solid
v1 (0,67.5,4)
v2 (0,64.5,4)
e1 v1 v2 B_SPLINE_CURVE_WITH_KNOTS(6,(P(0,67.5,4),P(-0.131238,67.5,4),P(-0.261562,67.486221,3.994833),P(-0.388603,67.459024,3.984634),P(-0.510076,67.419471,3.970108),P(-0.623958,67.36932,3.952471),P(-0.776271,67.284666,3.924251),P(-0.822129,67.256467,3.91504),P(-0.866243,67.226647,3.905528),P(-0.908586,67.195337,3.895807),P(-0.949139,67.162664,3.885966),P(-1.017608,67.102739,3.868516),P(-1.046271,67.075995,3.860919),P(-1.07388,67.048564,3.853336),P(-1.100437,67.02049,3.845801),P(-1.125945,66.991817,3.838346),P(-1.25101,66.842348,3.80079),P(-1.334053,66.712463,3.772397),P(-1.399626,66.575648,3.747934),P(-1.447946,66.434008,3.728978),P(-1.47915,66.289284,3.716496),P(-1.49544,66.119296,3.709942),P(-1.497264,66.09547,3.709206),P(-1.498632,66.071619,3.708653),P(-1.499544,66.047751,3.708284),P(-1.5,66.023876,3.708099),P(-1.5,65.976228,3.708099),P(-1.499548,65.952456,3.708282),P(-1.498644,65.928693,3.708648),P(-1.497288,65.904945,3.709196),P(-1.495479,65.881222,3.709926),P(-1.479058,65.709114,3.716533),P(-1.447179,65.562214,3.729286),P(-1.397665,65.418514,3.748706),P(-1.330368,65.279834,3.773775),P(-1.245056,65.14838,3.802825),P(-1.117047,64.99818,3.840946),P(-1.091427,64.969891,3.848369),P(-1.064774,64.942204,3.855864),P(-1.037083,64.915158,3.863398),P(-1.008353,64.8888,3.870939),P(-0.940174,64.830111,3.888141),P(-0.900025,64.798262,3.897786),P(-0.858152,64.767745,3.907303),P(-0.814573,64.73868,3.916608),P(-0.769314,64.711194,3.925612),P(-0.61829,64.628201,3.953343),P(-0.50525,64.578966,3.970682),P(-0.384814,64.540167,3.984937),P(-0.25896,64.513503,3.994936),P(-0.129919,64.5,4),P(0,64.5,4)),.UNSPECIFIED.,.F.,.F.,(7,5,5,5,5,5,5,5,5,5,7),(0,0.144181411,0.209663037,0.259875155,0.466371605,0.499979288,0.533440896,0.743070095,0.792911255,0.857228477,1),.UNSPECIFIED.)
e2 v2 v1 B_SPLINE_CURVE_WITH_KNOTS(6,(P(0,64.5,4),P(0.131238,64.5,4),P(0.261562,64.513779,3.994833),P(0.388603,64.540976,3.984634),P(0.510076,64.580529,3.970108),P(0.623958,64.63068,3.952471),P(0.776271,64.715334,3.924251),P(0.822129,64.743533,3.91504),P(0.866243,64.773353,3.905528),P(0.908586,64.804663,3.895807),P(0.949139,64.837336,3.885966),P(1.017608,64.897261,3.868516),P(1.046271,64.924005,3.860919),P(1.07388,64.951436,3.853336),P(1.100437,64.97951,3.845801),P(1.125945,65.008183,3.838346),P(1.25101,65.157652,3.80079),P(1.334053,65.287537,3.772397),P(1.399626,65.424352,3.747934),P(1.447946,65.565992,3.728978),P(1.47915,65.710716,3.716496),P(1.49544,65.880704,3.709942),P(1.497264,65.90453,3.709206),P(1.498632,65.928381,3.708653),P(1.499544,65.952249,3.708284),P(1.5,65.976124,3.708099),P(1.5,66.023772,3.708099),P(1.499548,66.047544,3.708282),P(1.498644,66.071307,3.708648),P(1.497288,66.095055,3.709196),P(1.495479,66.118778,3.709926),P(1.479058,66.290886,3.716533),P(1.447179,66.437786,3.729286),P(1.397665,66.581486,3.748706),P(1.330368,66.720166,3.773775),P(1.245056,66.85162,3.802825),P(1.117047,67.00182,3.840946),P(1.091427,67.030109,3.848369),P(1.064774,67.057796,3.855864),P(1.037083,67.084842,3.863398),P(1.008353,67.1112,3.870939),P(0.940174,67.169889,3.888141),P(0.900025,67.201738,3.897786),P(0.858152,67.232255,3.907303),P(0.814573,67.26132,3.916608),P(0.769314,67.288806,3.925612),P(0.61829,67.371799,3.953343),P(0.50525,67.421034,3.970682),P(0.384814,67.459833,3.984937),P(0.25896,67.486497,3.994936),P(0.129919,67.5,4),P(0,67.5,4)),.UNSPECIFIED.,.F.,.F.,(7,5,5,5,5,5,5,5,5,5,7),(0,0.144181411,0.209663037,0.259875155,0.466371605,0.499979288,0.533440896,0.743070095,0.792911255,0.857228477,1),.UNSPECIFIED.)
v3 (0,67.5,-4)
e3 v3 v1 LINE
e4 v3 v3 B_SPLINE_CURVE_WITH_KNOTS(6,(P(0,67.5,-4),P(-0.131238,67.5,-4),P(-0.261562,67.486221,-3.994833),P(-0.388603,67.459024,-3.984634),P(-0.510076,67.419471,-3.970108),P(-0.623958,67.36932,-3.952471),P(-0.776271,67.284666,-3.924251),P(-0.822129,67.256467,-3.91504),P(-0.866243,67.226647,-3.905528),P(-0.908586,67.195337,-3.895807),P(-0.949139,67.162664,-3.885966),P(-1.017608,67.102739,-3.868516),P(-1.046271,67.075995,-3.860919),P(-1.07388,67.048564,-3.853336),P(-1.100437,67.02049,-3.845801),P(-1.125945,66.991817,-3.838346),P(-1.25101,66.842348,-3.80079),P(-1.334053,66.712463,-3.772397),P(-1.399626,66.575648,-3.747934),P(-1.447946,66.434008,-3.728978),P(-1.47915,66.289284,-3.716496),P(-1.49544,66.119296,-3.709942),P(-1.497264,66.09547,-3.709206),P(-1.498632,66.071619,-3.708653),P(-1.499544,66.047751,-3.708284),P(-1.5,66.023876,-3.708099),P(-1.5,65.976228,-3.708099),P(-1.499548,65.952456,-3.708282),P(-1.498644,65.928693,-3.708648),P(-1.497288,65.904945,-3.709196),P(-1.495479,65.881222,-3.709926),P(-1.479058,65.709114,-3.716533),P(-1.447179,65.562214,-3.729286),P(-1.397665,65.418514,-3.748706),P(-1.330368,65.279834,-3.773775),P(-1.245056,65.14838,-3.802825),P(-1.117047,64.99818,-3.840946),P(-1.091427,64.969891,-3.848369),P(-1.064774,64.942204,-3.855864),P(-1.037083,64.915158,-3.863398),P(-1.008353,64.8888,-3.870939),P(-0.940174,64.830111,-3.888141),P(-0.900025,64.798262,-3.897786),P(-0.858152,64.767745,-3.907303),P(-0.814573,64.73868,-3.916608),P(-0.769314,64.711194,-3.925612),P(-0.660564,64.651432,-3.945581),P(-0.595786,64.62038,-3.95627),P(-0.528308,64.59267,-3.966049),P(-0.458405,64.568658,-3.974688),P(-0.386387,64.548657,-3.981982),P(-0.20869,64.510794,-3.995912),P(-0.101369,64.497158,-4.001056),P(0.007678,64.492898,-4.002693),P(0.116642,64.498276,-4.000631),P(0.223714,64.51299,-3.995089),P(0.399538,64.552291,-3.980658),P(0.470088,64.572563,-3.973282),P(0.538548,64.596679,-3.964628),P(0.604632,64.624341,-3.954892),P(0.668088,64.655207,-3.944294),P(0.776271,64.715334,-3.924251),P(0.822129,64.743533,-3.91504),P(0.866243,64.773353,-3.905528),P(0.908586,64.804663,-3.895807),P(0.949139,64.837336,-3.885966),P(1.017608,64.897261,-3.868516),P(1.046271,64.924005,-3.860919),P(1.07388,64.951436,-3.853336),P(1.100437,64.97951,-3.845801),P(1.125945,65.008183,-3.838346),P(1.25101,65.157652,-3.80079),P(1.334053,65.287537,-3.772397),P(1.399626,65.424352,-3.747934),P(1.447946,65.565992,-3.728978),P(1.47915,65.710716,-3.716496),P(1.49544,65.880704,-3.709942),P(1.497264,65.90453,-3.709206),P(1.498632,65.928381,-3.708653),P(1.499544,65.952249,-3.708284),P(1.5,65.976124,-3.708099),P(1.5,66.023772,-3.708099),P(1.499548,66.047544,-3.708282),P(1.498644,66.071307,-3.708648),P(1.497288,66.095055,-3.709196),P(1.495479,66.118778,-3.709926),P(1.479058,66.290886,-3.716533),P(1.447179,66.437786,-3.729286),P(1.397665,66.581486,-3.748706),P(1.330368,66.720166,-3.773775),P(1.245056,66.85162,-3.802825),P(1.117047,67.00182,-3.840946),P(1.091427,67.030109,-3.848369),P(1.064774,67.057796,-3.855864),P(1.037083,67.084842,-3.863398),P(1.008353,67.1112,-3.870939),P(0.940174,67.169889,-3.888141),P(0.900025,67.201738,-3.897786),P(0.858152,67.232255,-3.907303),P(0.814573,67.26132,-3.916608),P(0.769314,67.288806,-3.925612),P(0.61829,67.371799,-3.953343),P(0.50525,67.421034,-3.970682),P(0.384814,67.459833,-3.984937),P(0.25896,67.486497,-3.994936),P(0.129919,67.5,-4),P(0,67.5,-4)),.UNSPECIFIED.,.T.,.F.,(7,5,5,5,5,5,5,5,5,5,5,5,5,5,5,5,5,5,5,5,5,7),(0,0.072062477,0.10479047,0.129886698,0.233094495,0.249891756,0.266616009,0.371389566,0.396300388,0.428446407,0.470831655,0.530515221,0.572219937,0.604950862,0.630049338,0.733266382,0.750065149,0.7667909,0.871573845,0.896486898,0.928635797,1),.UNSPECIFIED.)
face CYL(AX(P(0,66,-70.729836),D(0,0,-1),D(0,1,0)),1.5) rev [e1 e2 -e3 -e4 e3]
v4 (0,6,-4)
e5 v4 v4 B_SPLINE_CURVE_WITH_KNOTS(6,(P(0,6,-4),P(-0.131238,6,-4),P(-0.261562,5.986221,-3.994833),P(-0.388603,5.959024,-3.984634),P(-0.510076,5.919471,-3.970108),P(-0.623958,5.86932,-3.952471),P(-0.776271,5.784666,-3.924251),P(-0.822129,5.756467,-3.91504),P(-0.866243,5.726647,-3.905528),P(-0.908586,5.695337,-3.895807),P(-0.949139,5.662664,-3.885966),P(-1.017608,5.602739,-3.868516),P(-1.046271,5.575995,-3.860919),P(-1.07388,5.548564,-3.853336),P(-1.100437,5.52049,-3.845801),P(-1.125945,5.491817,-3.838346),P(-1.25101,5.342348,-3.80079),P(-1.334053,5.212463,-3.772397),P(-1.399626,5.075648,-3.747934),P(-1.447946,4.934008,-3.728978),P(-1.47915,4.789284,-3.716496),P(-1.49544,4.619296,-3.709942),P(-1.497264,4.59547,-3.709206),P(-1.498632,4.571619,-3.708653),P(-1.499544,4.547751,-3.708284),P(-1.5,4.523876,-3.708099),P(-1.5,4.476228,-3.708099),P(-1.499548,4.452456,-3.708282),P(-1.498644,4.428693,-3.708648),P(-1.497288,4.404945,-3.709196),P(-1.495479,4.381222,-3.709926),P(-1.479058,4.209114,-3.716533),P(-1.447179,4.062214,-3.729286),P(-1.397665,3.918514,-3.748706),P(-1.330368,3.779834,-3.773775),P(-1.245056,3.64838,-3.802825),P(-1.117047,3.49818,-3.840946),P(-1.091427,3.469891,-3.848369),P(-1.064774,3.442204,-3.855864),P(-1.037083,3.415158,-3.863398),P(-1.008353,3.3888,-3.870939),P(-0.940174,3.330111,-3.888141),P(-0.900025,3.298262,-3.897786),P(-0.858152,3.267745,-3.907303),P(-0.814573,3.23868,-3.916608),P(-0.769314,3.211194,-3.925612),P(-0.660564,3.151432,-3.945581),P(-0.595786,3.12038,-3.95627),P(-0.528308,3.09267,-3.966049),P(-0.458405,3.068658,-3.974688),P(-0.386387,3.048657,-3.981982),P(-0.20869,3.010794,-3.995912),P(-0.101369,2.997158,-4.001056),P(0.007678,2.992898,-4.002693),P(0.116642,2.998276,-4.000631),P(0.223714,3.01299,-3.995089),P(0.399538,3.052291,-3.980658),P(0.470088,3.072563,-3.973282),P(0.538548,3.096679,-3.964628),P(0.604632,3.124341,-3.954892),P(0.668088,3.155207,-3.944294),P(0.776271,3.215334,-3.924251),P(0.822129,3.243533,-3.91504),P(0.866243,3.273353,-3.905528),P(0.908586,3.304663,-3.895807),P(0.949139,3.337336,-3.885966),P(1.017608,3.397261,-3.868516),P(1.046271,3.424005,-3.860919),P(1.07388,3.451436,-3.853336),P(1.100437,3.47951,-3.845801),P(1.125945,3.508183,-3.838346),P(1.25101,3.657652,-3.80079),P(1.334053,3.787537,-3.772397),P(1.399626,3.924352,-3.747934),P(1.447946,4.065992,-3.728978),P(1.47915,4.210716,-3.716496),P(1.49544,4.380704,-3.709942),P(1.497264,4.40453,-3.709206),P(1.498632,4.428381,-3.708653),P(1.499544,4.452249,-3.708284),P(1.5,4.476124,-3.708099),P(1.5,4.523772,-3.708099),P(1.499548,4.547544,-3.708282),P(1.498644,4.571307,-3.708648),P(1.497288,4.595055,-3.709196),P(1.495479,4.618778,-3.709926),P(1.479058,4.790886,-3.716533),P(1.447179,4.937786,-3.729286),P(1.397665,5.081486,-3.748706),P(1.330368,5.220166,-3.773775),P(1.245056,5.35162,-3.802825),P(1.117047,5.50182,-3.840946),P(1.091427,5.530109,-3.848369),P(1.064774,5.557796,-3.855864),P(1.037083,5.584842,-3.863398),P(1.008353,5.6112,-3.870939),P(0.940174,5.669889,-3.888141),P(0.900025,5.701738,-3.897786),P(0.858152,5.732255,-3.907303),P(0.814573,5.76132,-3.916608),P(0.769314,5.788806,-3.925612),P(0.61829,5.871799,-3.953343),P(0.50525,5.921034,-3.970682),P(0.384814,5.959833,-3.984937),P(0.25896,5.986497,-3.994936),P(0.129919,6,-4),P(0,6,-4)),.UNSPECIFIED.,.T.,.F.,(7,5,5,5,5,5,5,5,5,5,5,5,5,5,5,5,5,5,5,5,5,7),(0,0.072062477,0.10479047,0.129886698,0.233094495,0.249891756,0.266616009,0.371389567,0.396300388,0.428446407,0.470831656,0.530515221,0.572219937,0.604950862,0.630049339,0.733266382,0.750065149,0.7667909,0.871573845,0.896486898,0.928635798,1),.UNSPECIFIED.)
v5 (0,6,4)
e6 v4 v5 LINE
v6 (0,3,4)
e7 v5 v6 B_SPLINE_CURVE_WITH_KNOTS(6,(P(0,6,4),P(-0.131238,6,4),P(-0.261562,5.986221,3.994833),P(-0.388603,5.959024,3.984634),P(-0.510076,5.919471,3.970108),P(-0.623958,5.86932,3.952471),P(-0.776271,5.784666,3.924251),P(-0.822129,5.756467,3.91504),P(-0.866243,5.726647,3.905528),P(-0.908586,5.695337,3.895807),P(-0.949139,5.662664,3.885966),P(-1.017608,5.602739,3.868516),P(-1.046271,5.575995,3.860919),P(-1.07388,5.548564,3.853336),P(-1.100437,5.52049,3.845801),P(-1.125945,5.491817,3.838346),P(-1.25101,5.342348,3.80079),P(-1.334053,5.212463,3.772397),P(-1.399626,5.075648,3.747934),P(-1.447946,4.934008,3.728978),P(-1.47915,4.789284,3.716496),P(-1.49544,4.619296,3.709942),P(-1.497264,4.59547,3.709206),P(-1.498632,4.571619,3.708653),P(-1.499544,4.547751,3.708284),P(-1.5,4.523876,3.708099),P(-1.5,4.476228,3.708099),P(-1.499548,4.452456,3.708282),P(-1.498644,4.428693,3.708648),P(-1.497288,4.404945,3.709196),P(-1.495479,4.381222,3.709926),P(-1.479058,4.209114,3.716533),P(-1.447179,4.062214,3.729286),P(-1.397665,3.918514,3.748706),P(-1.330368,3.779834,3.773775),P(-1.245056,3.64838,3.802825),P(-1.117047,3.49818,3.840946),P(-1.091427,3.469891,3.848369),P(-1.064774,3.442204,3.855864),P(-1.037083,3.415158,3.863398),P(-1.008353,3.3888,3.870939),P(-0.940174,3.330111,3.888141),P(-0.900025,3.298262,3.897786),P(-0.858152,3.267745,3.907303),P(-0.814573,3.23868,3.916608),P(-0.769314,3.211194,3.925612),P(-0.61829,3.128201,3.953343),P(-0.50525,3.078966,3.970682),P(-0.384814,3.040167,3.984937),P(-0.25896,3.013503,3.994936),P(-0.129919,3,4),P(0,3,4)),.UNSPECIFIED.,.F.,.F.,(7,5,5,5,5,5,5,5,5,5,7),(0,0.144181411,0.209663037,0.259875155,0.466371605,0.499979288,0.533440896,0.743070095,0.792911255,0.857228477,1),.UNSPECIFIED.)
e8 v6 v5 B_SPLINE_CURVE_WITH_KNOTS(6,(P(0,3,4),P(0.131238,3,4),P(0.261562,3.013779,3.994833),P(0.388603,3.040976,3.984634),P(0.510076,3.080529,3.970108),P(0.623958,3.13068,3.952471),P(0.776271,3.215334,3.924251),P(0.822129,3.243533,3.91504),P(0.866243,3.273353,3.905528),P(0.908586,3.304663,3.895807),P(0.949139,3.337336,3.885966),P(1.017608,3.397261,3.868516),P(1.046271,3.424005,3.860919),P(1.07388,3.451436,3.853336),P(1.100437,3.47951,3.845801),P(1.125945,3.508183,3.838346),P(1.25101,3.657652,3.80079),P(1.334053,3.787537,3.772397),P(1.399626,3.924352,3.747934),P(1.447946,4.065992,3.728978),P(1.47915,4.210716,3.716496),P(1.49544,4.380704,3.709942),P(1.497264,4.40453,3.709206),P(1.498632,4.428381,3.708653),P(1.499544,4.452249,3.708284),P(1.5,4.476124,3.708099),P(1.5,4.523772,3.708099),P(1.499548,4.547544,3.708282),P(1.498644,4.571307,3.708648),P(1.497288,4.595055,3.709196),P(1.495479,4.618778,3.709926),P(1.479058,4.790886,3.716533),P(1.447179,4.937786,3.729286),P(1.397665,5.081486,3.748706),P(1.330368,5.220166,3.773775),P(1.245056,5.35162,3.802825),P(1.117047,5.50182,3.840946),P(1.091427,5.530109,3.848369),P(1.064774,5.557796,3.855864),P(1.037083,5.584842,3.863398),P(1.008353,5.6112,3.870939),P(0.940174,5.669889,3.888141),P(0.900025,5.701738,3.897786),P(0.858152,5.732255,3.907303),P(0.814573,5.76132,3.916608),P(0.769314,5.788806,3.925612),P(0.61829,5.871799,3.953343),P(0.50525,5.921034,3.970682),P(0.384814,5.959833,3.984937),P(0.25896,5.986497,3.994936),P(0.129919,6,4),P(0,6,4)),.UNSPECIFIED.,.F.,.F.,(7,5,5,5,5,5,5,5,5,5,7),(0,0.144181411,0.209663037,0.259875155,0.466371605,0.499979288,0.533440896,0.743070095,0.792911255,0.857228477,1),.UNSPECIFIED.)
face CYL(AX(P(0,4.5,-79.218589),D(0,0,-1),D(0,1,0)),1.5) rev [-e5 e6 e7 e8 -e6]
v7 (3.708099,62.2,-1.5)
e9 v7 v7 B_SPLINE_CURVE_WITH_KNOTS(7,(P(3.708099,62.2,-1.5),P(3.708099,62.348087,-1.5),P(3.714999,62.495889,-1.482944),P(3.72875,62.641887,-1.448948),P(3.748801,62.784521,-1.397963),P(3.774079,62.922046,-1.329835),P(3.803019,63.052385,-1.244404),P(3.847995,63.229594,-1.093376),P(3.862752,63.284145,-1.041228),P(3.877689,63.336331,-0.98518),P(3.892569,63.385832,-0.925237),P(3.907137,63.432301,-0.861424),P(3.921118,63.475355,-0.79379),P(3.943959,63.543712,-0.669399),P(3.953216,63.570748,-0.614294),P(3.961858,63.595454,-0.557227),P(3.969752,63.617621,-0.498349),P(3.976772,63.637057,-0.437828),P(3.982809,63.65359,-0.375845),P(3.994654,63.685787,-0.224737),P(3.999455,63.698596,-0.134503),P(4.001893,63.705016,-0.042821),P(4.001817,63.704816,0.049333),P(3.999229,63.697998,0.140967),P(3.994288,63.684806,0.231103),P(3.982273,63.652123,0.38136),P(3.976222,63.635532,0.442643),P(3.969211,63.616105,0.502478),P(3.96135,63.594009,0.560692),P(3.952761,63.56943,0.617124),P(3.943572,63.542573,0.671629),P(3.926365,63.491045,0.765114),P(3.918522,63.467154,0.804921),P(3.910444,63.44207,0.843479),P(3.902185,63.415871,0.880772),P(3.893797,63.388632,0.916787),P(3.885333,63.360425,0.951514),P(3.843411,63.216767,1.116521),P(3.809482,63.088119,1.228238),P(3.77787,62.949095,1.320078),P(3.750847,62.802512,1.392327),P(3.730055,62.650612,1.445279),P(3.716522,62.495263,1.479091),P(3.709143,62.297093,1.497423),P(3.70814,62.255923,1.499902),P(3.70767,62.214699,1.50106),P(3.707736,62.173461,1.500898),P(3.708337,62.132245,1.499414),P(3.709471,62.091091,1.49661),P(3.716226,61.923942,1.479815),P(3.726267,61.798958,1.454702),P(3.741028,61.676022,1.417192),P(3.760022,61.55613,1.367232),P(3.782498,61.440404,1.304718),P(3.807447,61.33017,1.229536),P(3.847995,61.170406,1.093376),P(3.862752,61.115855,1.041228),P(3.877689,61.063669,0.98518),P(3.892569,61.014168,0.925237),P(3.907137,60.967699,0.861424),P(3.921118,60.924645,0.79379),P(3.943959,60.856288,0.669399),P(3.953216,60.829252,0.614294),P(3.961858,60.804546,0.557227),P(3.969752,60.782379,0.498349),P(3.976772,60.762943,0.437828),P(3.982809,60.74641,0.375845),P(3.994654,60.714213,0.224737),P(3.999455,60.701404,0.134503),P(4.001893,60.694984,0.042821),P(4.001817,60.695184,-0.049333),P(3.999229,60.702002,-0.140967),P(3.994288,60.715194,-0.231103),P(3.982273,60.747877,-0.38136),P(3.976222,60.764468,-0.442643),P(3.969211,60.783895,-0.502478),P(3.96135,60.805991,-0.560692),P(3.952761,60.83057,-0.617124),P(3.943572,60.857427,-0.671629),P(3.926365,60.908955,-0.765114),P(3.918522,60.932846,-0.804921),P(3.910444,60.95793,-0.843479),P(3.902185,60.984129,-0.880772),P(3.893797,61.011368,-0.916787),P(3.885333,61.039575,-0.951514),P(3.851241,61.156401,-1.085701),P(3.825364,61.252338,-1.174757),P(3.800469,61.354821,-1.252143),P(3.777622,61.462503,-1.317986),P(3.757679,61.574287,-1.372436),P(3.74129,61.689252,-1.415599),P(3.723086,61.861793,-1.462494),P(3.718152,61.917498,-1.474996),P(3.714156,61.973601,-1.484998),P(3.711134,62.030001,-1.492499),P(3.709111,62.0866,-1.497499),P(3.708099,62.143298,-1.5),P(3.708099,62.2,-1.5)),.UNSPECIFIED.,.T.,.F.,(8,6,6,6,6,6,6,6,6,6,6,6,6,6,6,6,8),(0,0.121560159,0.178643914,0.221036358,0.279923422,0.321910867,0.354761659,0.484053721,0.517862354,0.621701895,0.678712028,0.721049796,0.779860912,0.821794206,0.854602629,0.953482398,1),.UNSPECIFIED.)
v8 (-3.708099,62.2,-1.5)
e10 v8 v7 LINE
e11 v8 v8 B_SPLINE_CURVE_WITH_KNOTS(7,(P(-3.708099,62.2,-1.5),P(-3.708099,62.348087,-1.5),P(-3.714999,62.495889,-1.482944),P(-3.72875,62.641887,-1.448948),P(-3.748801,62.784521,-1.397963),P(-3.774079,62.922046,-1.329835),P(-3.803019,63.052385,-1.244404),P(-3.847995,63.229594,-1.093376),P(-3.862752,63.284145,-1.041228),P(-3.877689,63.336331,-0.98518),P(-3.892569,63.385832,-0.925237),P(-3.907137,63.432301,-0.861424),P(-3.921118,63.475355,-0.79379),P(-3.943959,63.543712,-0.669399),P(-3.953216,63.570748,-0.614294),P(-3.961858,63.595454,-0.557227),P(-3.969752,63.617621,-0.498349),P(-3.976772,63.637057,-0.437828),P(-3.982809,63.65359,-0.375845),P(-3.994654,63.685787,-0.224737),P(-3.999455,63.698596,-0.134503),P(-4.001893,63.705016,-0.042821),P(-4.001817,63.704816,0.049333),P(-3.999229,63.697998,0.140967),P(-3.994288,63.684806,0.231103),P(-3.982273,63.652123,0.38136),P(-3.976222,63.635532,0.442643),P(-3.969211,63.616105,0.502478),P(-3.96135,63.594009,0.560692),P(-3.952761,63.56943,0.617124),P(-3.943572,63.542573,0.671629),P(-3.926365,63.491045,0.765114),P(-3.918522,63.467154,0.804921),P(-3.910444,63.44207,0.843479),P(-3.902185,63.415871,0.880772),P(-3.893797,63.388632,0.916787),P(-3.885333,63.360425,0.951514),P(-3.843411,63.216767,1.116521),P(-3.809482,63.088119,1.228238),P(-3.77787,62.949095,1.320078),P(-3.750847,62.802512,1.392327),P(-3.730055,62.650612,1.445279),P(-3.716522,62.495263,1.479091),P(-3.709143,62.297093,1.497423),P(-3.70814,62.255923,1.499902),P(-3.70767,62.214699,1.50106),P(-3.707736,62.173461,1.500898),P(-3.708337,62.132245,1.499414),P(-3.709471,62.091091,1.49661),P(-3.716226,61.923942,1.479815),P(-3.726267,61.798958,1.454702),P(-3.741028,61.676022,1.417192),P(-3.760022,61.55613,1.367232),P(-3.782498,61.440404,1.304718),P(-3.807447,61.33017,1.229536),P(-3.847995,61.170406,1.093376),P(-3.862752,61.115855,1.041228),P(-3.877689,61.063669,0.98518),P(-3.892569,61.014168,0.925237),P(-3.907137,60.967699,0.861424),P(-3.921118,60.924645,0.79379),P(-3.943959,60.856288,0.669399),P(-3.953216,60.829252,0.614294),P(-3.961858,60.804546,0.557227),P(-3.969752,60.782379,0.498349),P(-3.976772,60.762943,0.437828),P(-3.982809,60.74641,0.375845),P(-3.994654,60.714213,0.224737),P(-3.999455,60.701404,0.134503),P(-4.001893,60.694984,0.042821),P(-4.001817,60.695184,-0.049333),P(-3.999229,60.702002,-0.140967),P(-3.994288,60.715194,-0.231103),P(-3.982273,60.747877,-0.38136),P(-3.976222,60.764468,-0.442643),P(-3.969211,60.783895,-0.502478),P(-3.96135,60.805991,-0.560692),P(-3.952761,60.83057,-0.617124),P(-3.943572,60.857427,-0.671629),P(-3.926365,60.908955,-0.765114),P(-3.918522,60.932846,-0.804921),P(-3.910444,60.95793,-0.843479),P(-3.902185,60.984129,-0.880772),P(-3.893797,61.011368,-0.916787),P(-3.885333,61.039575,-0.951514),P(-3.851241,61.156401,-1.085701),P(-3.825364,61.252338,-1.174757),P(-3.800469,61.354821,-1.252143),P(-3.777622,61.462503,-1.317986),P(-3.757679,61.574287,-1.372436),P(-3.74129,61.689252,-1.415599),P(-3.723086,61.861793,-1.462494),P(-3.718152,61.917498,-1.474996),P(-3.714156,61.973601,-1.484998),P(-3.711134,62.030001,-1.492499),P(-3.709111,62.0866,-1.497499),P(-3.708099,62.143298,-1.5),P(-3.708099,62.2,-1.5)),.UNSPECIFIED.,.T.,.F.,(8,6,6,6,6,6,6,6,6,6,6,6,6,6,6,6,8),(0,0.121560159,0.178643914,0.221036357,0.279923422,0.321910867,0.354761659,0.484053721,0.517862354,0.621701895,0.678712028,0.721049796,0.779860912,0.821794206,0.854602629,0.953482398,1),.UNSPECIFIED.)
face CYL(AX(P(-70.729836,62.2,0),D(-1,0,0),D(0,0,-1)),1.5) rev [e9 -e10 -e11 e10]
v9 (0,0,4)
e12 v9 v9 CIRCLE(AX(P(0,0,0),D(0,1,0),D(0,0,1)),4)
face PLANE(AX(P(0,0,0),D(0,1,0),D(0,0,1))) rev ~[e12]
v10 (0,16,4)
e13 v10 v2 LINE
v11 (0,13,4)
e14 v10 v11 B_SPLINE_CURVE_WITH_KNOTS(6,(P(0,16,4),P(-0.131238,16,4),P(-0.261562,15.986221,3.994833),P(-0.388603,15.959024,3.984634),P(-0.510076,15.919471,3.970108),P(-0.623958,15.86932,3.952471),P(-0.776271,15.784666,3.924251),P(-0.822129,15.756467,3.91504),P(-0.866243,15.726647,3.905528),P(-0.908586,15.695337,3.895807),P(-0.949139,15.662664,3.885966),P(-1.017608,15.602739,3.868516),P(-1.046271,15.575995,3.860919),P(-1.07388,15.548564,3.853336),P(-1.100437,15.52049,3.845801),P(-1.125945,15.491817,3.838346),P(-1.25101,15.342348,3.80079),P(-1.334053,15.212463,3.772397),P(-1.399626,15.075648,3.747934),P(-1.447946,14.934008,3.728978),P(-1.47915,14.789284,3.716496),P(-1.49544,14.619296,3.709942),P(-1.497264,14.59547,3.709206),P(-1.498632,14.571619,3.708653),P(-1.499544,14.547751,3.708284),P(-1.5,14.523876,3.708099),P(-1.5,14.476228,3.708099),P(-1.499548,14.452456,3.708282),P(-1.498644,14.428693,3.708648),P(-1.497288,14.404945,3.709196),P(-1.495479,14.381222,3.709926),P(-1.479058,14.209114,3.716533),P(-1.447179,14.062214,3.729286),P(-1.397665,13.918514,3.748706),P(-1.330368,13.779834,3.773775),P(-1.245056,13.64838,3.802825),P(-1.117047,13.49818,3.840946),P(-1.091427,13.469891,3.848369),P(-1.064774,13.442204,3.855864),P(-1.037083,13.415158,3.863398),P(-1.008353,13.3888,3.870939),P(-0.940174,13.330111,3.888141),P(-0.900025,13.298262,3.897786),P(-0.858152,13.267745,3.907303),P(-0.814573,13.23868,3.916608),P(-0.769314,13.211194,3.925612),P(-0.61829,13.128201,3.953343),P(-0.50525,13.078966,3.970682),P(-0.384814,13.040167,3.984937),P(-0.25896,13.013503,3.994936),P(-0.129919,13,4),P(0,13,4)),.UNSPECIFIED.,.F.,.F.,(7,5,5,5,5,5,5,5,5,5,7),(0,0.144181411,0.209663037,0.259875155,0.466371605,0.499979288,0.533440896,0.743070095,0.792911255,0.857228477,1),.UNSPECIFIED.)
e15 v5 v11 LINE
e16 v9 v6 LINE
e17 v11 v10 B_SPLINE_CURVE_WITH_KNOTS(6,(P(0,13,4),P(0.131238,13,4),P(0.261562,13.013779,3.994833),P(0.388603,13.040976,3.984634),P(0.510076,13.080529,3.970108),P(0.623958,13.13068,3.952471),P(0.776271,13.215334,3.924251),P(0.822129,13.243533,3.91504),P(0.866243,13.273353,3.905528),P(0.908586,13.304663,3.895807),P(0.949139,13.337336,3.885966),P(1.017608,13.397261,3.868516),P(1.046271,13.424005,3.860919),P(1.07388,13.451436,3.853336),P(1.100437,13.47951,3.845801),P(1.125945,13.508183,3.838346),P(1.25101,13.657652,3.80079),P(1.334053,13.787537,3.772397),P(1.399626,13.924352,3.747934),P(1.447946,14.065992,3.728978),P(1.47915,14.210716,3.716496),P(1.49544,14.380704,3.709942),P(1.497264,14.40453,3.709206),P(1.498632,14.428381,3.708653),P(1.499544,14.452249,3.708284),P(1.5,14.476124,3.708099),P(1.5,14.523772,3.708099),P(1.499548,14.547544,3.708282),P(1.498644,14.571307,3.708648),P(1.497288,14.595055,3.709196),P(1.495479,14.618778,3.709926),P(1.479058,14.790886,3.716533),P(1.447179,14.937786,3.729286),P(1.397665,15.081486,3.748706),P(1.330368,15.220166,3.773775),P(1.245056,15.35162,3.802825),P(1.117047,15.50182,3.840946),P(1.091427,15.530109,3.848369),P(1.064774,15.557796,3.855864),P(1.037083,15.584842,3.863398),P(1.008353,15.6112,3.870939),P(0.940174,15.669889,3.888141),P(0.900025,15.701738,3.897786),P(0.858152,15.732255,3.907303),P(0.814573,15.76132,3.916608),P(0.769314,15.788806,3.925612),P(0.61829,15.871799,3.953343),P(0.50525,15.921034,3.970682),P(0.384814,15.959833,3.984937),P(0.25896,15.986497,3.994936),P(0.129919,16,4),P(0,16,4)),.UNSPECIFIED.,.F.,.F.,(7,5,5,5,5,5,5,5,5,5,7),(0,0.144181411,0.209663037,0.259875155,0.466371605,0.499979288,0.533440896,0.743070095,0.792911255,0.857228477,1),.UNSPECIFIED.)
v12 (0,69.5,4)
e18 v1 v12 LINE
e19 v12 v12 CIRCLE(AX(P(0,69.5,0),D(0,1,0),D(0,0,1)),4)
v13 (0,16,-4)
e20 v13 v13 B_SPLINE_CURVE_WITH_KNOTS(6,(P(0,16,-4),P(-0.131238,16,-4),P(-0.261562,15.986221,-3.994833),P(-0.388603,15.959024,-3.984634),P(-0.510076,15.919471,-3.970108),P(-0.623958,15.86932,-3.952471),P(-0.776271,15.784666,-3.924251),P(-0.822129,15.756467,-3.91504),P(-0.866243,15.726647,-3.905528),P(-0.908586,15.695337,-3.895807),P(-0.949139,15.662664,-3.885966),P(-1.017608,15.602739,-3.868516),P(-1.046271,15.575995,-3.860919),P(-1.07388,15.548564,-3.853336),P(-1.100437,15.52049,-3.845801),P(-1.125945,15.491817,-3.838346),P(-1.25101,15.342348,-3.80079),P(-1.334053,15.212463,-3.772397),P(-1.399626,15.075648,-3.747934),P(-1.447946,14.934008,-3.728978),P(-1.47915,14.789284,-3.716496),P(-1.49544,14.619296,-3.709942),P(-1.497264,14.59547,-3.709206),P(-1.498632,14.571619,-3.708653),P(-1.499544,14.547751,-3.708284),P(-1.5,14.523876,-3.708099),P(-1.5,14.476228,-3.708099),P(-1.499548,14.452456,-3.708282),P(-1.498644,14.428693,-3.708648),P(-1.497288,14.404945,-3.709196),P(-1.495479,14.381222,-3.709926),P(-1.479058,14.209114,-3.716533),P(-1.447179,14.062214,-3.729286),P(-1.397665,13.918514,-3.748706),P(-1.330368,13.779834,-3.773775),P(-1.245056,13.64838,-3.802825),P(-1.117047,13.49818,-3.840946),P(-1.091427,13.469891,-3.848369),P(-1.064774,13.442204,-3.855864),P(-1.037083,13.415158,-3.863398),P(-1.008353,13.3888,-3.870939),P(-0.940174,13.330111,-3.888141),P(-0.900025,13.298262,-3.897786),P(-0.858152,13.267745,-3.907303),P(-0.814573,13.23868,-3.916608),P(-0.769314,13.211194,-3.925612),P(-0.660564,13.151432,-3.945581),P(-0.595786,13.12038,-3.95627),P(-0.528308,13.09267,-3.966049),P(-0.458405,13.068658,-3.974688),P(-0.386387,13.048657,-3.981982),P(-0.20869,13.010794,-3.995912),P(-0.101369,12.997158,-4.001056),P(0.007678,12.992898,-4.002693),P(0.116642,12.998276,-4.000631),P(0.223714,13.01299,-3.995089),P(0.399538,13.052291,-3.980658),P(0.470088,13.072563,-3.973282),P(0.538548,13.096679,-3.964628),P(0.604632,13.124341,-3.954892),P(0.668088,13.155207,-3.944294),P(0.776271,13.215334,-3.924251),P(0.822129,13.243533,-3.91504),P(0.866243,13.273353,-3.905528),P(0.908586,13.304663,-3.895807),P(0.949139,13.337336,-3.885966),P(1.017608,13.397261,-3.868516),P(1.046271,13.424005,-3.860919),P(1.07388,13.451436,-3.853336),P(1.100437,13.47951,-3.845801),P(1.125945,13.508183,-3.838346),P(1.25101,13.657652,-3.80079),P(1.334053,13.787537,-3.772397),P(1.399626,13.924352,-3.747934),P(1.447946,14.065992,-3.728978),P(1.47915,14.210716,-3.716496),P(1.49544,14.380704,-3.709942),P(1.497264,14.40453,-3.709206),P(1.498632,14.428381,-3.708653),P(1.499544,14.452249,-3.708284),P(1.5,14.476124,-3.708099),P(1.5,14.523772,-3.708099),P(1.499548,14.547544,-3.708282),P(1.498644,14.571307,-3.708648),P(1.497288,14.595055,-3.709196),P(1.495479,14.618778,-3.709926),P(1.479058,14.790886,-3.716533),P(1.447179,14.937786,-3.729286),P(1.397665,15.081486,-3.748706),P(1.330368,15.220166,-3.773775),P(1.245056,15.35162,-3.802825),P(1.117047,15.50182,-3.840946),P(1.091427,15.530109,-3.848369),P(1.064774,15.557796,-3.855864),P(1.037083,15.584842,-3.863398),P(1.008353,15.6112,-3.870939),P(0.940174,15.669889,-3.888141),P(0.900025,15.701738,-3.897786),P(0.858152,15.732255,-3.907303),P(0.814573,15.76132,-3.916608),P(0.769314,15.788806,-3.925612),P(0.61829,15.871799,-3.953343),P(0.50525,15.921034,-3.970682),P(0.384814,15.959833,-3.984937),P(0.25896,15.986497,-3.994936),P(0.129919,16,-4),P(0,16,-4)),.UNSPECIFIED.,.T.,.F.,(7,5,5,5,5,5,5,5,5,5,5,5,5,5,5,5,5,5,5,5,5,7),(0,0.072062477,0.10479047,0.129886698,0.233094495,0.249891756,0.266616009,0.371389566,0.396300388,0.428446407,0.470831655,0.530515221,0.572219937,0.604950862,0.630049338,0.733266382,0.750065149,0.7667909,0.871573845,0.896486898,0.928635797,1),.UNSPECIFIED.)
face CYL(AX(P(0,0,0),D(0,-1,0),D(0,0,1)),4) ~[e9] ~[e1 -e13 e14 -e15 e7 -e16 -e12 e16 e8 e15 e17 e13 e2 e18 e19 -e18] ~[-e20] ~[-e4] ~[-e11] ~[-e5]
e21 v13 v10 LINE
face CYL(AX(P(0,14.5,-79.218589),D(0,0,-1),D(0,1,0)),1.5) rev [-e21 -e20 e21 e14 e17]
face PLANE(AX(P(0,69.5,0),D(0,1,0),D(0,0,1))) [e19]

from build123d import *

# Parameters (mm, degrees)
SKETCH1_R               = 4
BOSS_EXTRUDE1_DEPTH     = 69.5
CUT_EXTRUDE1_DEPTH      = 79.218588868
CUT_EXTRUDE1_DEPTH_BACK = 79.218588868
SKETCH2_R               = 1.5
CUT_EXTRUDE2_DEPTH      = 70.729835906
CUT_EXTRUDE2_DEPTH_BACK = 70.729835906
SKETCH3_R               = 1.5
CUT_EXTRUDE3_DEPTH      = 70.729835906
CUT_EXTRUDE3_DEPTH_BACK = 70.729835906
SKETCH4_R               = 1.5


with BuildPart() as part:
    # Sketch1 → Boss-Extrude1 (new body)
    with BuildSketch(Plane(origin=(0, 0, 0), x_dir=(1, 0, 0), z_dir=(0, 1, 0))):
        with Locations(Location((0, 0, 0), (0, 0, 270))):
            Circle(SKETCH1_R)
    extrude(amount=BOSS_EXTRUDE1_DEPTH)

    # Sketch2 → Cut-Extrude1 (cut, two sides: drawn at the far end of the back side and taken through both)
    with BuildSketch(Plane(origin=(-34.800875944, 1.701477372, 0), x_dir=(1, 0, 0), z_dir=(0, 0, 1)).offset(-CUT_EXTRUDE1_DEPTH_BACK)):
        with Locations(Location((34.800875944, 2.798522628, 0), (0, 0, 90.000000025))):
            Circle(SKETCH2_R)
        with Locations(Location((34.800875944, 12.798522628, 0), (0, 0, 90.000000025))):
            Circle(SKETCH2_R)
    extrude(amount=CUT_EXTRUDE1_DEPTH + CUT_EXTRUDE1_DEPTH_BACK, mode=Mode.SUBTRACT)

    # Sketch3 → Cut-Extrude2 (cut, two sides: drawn at the far end of the back side and taken through both)
    with BuildSketch(Plane.XY.offset(-CUT_EXTRUDE2_DEPTH_BACK)):
        with Locations(Location((0, 66, 0), (0, 0, 90.000000025))):
            Circle(SKETCH3_R)
    extrude(amount=CUT_EXTRUDE2_DEPTH + CUT_EXTRUDE2_DEPTH_BACK, mode=Mode.SUBTRACT)

    # Sketch4 → Cut-Extrude3 (cut, two sides: drawn at the far end of the back side and taken through both)
    with BuildSketch(Plane(origin=(0, 0, 0), x_dir=(0, 0, -1), z_dir=(1, 0, 0)).offset(-CUT_EXTRUDE3_DEPTH_BACK)):
        with Locations((0, 62.2)):
            Circle(SKETCH4_R)
    extrude(amount=CUT_EXTRUDE3_DEPTH + CUT_EXTRUDE3_DEPTH_BACK, mode=Mode.SUBTRACT)


solid = part.part
